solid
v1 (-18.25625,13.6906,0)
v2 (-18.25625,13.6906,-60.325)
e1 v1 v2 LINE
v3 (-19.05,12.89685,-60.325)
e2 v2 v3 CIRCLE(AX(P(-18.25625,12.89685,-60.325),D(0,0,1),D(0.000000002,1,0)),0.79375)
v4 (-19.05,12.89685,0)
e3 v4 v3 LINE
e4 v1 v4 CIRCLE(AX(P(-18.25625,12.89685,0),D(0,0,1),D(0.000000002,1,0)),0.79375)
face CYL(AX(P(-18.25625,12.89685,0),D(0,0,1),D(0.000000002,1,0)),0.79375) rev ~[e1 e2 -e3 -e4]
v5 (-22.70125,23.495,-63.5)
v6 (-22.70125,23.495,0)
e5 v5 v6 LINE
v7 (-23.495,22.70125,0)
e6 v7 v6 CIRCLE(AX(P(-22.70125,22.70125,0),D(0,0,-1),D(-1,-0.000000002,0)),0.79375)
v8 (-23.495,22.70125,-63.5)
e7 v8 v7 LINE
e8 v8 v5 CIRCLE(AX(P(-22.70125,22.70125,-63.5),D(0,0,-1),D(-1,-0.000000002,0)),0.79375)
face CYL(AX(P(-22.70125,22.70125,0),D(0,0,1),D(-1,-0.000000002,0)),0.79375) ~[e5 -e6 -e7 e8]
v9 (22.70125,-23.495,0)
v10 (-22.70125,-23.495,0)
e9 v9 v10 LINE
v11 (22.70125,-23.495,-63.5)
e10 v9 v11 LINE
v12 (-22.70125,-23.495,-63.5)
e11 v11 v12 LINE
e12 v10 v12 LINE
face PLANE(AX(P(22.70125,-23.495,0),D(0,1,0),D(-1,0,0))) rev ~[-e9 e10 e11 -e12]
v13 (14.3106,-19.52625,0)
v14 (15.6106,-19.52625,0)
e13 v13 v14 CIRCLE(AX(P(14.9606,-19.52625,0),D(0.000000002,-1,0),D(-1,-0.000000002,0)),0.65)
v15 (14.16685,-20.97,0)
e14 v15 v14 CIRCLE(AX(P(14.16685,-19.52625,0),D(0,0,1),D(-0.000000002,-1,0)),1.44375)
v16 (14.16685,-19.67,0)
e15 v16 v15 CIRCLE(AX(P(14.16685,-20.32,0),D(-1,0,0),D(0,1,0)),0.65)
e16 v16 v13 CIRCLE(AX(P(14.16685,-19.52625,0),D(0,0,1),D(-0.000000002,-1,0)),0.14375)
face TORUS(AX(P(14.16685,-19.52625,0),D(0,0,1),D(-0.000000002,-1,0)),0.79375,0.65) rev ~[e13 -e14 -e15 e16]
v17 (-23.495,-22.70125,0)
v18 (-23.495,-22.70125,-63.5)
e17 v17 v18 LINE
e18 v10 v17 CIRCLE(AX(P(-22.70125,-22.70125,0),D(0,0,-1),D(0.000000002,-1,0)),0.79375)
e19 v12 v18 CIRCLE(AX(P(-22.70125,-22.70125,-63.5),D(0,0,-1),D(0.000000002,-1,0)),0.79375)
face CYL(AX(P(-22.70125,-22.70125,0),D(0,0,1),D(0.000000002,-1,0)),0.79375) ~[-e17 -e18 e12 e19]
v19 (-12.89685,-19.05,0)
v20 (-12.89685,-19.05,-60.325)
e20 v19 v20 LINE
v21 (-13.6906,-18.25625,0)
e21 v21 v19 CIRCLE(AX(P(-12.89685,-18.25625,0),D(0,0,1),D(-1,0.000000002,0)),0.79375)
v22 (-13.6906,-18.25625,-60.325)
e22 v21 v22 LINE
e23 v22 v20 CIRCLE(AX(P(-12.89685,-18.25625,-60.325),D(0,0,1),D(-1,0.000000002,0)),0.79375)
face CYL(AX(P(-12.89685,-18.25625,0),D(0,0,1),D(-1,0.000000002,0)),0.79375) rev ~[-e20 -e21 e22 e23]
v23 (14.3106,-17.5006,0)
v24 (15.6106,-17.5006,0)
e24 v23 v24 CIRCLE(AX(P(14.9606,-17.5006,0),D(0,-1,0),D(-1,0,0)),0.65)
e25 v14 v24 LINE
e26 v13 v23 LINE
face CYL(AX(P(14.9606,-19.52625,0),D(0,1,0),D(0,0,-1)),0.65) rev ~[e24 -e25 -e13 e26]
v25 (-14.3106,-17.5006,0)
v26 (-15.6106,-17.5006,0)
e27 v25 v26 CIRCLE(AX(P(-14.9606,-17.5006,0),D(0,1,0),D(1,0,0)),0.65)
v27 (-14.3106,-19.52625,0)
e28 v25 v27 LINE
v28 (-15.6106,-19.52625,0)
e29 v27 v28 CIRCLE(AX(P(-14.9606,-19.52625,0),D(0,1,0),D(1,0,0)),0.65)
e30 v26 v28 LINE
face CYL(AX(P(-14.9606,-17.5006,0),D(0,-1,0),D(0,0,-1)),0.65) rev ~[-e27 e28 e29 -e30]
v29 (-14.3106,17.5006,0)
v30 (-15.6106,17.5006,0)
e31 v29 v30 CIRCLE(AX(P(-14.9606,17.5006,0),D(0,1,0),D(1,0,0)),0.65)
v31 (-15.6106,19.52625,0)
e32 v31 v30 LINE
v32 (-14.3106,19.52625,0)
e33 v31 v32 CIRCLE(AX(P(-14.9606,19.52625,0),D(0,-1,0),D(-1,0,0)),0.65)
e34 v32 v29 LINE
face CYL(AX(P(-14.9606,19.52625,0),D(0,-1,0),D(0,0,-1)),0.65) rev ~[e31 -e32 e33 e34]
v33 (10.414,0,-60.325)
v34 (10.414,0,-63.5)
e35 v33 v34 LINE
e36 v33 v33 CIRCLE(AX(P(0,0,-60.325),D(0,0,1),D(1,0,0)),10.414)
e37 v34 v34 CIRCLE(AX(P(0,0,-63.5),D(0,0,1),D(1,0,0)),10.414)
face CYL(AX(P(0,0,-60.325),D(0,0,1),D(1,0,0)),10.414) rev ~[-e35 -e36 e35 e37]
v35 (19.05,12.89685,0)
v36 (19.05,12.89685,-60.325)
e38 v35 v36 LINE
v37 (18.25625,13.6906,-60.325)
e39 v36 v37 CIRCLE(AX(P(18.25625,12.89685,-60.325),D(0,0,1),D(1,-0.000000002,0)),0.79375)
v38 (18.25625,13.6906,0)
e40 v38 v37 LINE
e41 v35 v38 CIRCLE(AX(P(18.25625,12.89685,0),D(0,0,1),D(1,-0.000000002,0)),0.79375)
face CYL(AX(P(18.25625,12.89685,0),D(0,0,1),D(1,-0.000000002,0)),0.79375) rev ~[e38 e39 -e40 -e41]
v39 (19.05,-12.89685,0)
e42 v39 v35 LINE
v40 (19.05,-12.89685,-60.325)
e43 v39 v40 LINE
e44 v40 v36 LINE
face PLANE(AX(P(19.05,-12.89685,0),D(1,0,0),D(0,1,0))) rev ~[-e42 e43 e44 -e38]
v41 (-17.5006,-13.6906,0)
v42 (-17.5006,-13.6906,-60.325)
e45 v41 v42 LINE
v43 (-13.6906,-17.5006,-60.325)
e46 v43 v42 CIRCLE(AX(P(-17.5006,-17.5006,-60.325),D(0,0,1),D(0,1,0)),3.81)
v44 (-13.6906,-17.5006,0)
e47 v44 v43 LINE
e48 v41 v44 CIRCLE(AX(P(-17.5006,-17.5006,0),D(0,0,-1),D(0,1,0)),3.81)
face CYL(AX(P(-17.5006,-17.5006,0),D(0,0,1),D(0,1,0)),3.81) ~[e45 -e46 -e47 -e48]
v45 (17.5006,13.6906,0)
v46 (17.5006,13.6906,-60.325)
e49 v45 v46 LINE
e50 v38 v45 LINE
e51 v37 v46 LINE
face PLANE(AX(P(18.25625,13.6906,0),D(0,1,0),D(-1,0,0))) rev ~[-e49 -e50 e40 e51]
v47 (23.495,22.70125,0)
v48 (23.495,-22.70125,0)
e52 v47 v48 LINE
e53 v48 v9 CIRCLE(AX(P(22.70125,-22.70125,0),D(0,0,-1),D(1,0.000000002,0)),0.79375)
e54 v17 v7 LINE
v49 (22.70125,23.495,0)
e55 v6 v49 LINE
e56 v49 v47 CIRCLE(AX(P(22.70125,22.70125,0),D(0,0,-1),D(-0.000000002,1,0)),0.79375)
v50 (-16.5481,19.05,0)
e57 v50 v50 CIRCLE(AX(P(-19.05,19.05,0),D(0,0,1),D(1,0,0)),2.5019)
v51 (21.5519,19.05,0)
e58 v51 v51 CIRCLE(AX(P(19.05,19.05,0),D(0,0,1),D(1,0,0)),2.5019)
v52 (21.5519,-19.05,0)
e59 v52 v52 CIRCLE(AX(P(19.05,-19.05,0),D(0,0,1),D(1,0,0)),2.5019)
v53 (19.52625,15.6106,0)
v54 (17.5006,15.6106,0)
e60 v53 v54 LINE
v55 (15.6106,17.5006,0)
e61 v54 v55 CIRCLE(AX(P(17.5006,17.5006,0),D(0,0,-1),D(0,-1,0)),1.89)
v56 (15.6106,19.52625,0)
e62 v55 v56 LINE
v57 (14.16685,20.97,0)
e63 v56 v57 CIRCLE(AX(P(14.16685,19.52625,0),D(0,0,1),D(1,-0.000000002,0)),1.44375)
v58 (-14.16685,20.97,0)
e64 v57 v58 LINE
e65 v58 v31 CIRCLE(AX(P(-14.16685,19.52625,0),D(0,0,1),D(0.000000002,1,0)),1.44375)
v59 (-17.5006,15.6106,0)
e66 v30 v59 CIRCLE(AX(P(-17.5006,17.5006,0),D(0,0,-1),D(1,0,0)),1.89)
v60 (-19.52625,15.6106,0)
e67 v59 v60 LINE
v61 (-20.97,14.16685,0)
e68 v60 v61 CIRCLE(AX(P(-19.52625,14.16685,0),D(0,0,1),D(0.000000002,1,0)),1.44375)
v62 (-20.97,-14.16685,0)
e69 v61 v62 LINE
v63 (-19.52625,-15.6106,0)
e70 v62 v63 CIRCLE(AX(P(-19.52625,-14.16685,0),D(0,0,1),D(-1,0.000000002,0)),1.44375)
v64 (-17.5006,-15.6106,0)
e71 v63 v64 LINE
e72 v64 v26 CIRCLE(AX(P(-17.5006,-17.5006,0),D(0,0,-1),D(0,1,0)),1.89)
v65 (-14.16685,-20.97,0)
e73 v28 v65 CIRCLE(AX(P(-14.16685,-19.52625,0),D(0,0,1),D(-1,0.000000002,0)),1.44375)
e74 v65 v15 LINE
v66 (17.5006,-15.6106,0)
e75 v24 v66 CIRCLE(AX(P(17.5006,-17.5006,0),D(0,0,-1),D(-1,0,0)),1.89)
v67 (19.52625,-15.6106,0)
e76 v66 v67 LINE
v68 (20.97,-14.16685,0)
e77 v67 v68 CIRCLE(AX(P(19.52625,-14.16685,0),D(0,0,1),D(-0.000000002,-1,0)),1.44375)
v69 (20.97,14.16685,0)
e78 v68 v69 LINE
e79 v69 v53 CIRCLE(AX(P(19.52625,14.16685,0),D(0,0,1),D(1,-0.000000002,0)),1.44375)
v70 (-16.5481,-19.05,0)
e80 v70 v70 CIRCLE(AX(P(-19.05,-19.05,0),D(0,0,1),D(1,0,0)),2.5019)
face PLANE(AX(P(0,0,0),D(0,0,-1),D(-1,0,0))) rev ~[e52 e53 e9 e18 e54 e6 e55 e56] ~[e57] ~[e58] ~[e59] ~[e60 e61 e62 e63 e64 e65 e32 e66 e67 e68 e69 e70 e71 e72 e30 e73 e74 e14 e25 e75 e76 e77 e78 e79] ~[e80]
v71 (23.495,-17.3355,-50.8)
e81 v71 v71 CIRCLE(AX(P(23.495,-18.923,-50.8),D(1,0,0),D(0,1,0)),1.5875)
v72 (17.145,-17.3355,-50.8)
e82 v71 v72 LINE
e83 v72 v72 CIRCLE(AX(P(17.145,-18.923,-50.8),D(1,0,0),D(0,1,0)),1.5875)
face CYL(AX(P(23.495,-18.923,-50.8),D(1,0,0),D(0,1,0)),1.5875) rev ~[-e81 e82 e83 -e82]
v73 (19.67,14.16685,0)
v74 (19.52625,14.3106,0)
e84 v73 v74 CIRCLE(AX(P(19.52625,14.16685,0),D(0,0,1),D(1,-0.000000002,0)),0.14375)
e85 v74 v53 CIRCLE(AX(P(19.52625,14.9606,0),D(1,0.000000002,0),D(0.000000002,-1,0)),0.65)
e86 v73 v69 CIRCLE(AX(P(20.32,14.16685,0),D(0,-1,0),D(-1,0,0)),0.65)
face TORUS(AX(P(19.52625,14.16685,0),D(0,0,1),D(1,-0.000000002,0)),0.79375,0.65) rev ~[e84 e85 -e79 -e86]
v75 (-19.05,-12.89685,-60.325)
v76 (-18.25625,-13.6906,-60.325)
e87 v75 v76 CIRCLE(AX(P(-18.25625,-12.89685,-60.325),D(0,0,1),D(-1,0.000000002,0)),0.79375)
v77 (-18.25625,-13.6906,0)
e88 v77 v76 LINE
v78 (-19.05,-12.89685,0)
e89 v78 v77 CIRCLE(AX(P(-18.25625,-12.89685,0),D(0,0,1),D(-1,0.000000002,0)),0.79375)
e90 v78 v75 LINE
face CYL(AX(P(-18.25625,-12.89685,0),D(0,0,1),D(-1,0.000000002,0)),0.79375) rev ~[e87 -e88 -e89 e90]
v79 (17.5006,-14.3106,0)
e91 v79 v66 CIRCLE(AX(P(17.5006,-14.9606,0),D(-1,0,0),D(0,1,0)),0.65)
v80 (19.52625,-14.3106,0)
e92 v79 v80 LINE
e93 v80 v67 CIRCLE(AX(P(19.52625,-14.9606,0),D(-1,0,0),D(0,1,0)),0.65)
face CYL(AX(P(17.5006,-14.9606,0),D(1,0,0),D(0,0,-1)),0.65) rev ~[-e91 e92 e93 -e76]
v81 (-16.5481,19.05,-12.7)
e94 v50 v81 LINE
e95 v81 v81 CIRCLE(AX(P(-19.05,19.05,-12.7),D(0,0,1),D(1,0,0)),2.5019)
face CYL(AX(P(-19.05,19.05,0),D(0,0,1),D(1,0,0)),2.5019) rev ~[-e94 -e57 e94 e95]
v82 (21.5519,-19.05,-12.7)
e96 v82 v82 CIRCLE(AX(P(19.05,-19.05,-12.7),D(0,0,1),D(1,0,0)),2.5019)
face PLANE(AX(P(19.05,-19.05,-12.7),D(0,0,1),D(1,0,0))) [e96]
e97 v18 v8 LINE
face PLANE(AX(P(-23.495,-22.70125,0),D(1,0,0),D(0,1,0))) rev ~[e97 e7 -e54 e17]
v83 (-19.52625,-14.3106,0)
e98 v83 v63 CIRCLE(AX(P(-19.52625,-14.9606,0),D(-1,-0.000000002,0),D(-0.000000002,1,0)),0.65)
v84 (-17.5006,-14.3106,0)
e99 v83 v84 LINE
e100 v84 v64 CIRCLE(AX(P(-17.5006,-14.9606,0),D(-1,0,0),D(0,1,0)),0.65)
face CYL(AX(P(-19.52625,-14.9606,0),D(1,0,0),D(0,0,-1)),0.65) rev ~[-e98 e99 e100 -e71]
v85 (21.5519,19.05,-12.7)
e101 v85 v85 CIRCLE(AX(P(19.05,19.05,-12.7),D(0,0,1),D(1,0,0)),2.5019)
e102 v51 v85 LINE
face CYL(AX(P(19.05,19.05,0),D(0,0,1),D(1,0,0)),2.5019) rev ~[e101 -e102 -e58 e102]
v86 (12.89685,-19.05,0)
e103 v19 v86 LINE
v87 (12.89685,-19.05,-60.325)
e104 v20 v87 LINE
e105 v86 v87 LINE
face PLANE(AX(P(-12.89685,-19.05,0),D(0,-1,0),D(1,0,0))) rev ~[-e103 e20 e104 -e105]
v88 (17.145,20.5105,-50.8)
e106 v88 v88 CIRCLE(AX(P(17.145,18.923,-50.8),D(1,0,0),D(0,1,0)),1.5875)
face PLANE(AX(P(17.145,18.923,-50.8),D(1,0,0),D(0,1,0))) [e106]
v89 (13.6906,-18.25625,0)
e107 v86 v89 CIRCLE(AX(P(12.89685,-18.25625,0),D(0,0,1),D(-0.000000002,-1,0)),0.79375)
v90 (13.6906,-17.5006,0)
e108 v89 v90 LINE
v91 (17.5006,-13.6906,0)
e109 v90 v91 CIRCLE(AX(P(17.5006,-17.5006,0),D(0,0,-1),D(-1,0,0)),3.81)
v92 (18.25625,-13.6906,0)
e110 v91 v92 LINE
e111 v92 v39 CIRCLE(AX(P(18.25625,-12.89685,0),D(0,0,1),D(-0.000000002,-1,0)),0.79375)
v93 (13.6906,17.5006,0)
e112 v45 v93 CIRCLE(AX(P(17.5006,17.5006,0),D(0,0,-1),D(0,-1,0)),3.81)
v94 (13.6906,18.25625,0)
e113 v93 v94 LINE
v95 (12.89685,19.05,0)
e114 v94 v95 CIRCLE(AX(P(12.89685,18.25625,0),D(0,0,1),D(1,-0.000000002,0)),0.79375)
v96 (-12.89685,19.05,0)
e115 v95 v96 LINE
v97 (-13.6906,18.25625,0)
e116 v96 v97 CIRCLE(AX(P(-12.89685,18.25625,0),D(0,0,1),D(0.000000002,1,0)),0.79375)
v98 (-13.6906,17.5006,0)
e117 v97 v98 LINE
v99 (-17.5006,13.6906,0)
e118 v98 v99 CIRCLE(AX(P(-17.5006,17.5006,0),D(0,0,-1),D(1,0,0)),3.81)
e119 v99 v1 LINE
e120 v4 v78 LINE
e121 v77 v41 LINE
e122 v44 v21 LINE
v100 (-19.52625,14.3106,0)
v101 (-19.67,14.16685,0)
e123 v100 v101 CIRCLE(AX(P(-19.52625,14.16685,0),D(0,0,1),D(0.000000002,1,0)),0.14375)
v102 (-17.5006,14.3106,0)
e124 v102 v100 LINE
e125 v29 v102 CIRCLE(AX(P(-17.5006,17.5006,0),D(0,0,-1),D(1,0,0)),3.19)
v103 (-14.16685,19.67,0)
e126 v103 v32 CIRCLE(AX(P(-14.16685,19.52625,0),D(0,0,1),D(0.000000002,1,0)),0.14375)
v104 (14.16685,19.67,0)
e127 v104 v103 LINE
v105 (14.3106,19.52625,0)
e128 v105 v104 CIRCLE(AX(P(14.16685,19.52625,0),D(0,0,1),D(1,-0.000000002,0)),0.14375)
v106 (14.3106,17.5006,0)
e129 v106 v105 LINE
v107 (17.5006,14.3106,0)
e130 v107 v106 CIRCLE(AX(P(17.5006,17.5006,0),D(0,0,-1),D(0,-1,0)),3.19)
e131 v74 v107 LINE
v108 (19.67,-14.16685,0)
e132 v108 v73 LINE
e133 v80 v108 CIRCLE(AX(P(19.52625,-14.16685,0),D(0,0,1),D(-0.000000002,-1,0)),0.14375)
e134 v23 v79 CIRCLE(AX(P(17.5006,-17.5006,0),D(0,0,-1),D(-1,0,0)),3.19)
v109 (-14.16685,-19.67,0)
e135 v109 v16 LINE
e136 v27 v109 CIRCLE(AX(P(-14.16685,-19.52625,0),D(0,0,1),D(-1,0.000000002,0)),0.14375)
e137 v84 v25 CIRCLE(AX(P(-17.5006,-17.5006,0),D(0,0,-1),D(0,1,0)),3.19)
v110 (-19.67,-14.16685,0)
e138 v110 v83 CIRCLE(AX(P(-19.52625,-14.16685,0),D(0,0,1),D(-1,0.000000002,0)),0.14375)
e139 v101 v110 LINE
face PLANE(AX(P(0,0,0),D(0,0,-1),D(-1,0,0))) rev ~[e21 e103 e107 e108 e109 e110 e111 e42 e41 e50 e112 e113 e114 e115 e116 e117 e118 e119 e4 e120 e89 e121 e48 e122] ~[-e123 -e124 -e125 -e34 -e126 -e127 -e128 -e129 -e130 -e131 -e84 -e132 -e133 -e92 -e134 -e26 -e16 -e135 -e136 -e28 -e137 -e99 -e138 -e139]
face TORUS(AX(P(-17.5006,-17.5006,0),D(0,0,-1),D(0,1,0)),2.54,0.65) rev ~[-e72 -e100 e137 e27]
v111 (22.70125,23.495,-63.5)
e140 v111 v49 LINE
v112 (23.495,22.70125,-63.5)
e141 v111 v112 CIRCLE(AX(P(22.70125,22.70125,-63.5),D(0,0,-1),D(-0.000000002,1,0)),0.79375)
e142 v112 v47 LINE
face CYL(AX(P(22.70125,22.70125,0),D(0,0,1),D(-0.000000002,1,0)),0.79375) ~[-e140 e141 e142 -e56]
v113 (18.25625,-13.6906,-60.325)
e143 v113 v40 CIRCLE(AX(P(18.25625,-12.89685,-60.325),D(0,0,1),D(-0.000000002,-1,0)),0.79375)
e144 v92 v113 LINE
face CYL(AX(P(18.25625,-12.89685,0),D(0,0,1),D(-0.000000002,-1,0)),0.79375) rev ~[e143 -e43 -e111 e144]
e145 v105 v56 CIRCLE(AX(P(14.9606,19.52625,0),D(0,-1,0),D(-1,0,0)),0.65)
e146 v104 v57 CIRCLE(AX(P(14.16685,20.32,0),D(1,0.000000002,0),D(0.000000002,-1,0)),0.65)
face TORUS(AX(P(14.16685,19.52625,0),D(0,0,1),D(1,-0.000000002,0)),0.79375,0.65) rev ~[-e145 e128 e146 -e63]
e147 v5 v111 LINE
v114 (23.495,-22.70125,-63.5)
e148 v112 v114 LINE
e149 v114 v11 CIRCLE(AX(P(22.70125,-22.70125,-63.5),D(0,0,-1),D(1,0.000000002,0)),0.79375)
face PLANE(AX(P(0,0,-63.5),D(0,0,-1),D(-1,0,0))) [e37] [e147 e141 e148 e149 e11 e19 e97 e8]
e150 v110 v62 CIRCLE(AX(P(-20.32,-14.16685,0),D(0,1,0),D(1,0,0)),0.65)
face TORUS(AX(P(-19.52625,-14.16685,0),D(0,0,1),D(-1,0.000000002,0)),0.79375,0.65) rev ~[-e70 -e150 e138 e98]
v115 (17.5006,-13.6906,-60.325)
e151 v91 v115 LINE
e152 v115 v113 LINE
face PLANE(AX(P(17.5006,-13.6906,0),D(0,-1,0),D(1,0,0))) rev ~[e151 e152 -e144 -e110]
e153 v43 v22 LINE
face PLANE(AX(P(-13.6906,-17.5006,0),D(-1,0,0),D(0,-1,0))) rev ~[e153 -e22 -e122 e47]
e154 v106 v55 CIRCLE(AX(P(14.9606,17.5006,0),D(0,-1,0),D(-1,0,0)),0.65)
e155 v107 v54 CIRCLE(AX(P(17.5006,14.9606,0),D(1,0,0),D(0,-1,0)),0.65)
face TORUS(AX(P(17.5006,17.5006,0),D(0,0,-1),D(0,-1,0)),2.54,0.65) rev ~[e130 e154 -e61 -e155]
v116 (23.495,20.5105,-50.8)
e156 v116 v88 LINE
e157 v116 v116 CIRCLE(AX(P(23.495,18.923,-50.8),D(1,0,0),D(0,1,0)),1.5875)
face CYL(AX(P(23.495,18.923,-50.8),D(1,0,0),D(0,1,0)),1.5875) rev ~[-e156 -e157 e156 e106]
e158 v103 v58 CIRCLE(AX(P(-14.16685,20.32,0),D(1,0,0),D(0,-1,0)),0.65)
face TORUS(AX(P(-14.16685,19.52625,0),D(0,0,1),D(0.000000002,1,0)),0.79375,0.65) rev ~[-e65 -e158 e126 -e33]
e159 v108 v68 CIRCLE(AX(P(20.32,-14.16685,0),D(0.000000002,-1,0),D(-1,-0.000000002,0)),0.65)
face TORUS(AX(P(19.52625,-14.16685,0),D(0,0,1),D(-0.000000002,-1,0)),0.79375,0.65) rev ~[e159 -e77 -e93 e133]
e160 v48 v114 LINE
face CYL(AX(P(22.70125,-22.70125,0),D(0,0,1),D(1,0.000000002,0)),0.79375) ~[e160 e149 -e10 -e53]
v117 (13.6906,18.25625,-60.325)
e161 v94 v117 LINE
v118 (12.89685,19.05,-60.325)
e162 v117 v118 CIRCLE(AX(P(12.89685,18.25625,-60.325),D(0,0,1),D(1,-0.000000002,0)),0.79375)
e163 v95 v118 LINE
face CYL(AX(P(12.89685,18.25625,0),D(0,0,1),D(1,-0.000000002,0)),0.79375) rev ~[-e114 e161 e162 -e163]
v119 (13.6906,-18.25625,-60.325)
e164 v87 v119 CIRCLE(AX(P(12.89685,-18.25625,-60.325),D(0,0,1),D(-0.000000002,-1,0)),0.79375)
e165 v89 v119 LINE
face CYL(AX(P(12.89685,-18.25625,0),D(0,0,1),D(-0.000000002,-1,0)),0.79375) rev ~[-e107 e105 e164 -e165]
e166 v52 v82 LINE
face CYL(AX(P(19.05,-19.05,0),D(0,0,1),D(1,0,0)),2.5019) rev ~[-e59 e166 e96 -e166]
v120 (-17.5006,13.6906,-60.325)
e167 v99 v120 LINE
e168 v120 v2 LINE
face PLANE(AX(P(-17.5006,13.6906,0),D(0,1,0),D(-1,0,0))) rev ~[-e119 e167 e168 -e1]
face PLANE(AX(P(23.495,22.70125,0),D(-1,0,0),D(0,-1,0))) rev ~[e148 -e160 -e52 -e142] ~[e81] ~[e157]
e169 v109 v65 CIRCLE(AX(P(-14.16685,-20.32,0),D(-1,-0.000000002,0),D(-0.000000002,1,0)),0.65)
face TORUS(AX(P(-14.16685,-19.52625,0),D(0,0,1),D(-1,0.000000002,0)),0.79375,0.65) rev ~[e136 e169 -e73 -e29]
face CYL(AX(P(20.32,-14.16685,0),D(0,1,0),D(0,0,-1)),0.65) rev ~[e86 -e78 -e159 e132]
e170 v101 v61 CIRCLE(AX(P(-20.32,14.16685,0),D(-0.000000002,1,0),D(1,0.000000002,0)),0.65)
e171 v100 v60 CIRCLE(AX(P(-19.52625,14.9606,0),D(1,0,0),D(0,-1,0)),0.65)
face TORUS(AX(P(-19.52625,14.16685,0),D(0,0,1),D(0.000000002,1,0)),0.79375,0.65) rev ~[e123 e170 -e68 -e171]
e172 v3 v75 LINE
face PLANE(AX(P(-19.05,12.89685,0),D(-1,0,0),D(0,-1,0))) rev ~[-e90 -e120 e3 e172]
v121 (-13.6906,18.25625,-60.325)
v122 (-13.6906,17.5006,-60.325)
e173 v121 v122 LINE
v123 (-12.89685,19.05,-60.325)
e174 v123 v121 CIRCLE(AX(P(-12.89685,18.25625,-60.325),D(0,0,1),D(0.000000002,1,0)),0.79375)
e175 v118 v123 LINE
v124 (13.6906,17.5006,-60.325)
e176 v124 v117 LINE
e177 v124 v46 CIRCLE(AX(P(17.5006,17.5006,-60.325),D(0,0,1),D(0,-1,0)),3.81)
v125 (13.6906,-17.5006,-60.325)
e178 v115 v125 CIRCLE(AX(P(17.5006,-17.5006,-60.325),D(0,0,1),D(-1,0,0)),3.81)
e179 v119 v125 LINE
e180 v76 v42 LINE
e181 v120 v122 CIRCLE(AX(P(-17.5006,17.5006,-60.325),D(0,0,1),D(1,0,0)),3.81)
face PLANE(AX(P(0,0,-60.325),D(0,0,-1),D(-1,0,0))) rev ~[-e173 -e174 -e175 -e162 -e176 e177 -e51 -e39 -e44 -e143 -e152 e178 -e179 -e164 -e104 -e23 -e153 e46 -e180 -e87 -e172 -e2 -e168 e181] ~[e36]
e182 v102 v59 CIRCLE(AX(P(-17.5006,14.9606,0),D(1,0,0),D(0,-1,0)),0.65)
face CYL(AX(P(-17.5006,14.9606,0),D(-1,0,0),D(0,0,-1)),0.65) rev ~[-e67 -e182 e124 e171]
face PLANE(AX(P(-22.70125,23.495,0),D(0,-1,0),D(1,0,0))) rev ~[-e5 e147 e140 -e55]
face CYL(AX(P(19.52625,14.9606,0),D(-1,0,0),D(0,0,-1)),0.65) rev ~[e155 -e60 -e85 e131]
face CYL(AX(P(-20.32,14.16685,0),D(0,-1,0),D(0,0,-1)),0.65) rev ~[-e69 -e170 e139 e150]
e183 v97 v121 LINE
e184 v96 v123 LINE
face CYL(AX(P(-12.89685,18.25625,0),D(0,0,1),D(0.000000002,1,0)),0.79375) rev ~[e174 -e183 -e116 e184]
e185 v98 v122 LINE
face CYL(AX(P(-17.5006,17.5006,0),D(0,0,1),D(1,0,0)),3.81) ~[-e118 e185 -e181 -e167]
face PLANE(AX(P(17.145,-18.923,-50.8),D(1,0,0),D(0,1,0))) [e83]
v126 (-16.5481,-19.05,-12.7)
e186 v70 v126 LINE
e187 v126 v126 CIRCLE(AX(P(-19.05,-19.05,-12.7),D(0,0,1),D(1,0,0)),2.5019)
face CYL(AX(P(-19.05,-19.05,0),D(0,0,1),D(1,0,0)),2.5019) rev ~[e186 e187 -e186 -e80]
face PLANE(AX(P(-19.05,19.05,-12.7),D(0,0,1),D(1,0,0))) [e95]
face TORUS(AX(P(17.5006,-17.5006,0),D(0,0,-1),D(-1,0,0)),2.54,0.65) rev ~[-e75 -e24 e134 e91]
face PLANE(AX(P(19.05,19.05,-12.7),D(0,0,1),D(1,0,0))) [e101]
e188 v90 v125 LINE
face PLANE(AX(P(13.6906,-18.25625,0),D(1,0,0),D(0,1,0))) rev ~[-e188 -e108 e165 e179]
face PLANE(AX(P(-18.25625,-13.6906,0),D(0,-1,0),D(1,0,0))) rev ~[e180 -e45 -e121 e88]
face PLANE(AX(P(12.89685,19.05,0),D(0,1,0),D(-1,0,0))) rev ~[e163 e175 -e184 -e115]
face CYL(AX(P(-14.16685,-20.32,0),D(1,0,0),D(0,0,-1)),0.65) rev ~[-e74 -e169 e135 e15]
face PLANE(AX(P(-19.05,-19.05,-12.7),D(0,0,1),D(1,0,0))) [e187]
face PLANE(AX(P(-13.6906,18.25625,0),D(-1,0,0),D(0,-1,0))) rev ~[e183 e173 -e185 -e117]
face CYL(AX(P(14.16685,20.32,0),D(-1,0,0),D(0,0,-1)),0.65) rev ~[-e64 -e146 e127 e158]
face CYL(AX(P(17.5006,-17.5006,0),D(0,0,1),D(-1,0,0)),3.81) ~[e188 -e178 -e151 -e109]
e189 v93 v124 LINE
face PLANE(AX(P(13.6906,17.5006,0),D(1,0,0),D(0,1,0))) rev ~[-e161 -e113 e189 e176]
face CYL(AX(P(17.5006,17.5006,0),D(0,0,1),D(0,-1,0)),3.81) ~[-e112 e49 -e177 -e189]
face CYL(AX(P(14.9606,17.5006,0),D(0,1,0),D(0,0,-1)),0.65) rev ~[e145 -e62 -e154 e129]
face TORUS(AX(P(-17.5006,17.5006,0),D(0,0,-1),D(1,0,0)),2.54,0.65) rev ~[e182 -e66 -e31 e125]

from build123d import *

# Parameters (mm, degrees)
BOSS_EXTRUDE1_DEPTH = 63.5
SKETCH7_R           = 0.65
SKETCH10_R          = 2.5019
CUT_EXTRUDE3_DEPTH  = 12.7
BOSS_EXTRUDE2_START = -60.325
SKETCH12_R          = 10.414
BOSS_EXTRUDE2_DEPTH = 3.175
SKETCH14_R          = 1.5875
CUT_EXTRUDE4_DEPTH  = 6.35


with BuildPart() as part:
    # Sketch1 → Boss-Extrude1 (new body)
    with BuildSketch(Plane.XY):
        with BuildLine():
            Line((23.495, 22.70125), (23.495, -22.70125))
            ThreePointArc((23.495, -22.70125), (23.262516008, -23.262516008), (22.70125, -23.495))
            Line((22.70125, -23.495), (-22.70125, -23.495))
            ThreePointArc((-22.70125, -23.495), (-23.262516008, -23.262516008), (-23.495, -22.70125))
            Line((-23.495, -22.70125), (-23.495, 22.70125))
            ThreePointArc((-23.495, 22.70125), (-23.262516008, 23.262516008), (-22.70125, 23.495))
            Line((-22.70125, 23.495), (22.70125, 23.495))
            ThreePointArc((22.70125, 23.495), (23.262516008, 23.262516008), (23.495, 22.70125))
        make_face()
        with BuildLine():
            Line((-12.89685, -19.05), (12.89685, -19.05))
            ThreePointArc((12.89685, -19.05), (13.458116008, -18.817516008), (13.6906, -18.25625))
            Line((13.6906, -18.25625), (13.6906, -17.5006))
            ThreePointArc((13.6906, -17.5006), (14.806523164, -14.806523164), (17.5006, -13.6906))
            Line((17.5006, -13.6906), (18.25625, -13.6906))
            ThreePointArc((18.25625, -13.6906), (18.817516008, -13.458116008), (19.05, -12.89685))
            Line((19.05, -12.89685), (19.05, 12.89685))
            ThreePointArc((19.05, 12.89685), (18.817516008, 13.458116008), (18.25625, 13.6906))
            Line((18.25625, 13.6906), (17.5006, 13.6906))
            ThreePointArc((17.5006, 13.6906), (14.806523164, 14.806523164), (13.6906, 17.5006))
            Line((13.6906, 17.5006), (13.6906, 18.25625))
            ThreePointArc((13.6906, 18.25625), (13.458116008, 18.817516008), (12.89685, 19.05))
            Line((12.89685, 19.05), (-12.89685, 19.05))
            ThreePointArc((-12.89685, 19.05), (-13.458116008, 18.817516008), (-13.6906, 18.25625))
            Line((-13.6906, 18.25625), (-13.6906, 17.5006))
            ThreePointArc((-13.6906, 17.5006), (-14.806523164, 14.806523164), (-17.5006, 13.6906))
            Line((-17.5006, 13.6906), (-18.25625, 13.6906))
            ThreePointArc((-18.25625, 13.6906), (-18.817516008, 13.458116008), (-19.05, 12.89685))
            Line((-19.05, 12.89685), (-19.05, -12.89685))
            ThreePointArc((-19.05, -12.89685), (-18.817516008, -13.458116008), (-18.25625, -13.6906))
            Line((-18.25625, -13.6906), (-17.5006, -13.6906))
            ThreePointArc((-17.5006, -13.6906), (-14.806523164, -14.806523164), (-13.6906, -17.5006))
            Line((-13.6906, -17.5006), (-13.6906, -18.25625))
            ThreePointArc((-13.6906, -18.25625), (-13.458116008, -18.817516008), (-12.89685, -19.05))
        make_face(mode=Mode.SUBTRACT)
    extrude(amount=-BOSS_EXTRUDE1_DEPTH)

    # Cut-Sweep2: sweep along a path in Sketch11
    with BuildLine(Plane.XY) as cut_sweep2_path:
        Line((-14.9606, 19.52625), (-14.9606, 17.5006))
        ThreePointArc((-14.9606, 17.5006), (-15.704548776, 15.704548776), (-17.5006, 14.9606))
        Line((-17.5006, 14.9606), (-19.52625, 14.9606))
        ThreePointArc((-19.52625, 14.9606), (-20.087516008, 14.728116008), (-20.32, 14.16685))
        Line((-20.32, 14.16685), (-20.32, 12.89685))
        Line((-20.32, 12.89685), (-20.32, -12.89685))
        Line((-20.32, -12.89685), (-20.32, -14.16685))
        ThreePointArc((-20.32, -14.16685), (-20.087516008, -14.728116008), (-19.52625, -14.9606))
        Line((-19.52625, -14.9606), (-17.5006, -14.9606))
        ThreePointArc((-17.5006, -14.9606), (-15.704548776, -15.704548776), (-14.9606, -17.5006))
        Line((-14.9606, -17.5006), (-14.9606, -19.52625))
        ThreePointArc((-14.9606, -19.52625), (-14.728116008, -20.087516008), (-14.16685, -20.32))
        Line((-14.16685, -20.32), (-12.89685, -20.32))
        Line((-12.89685, -20.32), (12.89685, -20.32))
        Line((12.89685, -20.32), (14.16685, -20.32))
        ThreePointArc((14.16685, -20.32), (14.728116008, -20.087516008), (14.9606, -19.52625))
        Line((14.9606, -19.52625), (14.9606, -17.5006))
        ThreePointArc((14.9606, -17.5006), (15.704548776, -15.704548776), (17.5006, -14.9606))
        Line((17.5006, -14.9606), (19.52625, -14.9606))
        ThreePointArc((19.52625, -14.9606), (20.087516008, -14.728116008), (20.32, -14.16685))
        Line((20.32, -14.16685), (20.32, -12.89685))
        Line((20.32, -12.89685), (20.32, 12.89685))
        Line((20.32, 12.89685), (20.32, 14.16685))
        ThreePointArc((20.32, 14.16685), (20.087516008, 14.728116008), (19.52625, 14.9606))
        Line((19.52625, 14.9606), (17.5006, 14.9606))
        ThreePointArc((17.5006, 14.9606), (15.704548776, 15.704548776), (14.9606, 17.5006))
        Line((14.9606, 17.5006), (14.9606, 19.52625))
        ThreePointArc((14.9606, 19.52625), (14.728116008, 20.087516008), (14.16685, 20.32))
        Line((14.16685, 20.32), (12.89685, 20.32))
        Line((12.89685, 20.32), (-12.89685, 20.32))
        Line((-12.89685, 20.32), (-14.16685, 20.32))
        ThreePointArc((-14.16685, 20.32), (-14.728116008, 20.087516008), (-14.9606, 19.52625))
    # Sketch7 → Cut-Sweep2 (sweep, cut)
    with BuildSketch(Plane(origin=(0, 0, 0), x_dir=(0, 0, -1), z_dir=(1, 0, 0))):
        with Locations((0, 20.32)):
            Circle(SKETCH7_R)
    sweep(path=cut_sweep2_path.line, mode=Mode.SUBTRACT)

    # Sketch10 → Cut-Extrude3 (cut)
    with BuildSketch(Plane.XY):
        with Locations((19.05, 19.05)):
            Circle(SKETCH10_R)
        with Locations((19.05, -19.05)):
            Circle(SKETCH10_R)
        with Locations((-19.05, -19.05)):
            Circle(SKETCH10_R)
        with Locations((-19.05, 19.05)):
            Circle(SKETCH10_R)
    extrude(amount=-CUT_EXTRUDE3_DEPTH, mode=Mode.SUBTRACT)

    # Sketch12 → Boss-Extrude2 (add)
    with BuildSketch(Plane.XY.offset(BOSS_EXTRUDE2_START)):
        with BuildLine():
            Line((23.495, 22.70125), (23.495, -22.70125))
            ThreePointArc((23.495, -22.70125), (23.262516008, -23.262516008), (22.70125, -23.495))
            Line((22.70125, -23.495), (-22.70125, -23.495))
            ThreePointArc((-22.70125, -23.495), (-23.262516008, -23.262516008), (-23.495, -22.70125))
            Line((-23.495, -22.70125), (-23.495, 22.70125))
            ThreePointArc((-23.495, 22.70125), (-23.262516008, 23.262516008), (-22.70125, 23.495))
            Line((-22.70125, 23.495), (22.70125, 23.495))
            ThreePointArc((22.70125, 23.495), (23.262516008, 23.262516008), (23.495, 22.70125))
        make_face()
        Circle(SKETCH12_R, mode=Mode.SUBTRACT)
    extrude(amount=-BOSS_EXTRUDE2_DEPTH)

    # Sketch14 → Cut-Extrude4 (cut)
    with BuildSketch(Plane(origin=(23.495, 0, 0), x_dir=(0, 0, -1), z_dir=(1, 0, 0))):
        with Locations(Location((50.8, 18.923, 0), (0, 0, 90))):
            Circle(SKETCH14_R)
        with Locations(Location((50.8, -18.923, 0), (0, 0, 90))):
            Circle(SKETCH14_R)
    extrude(amount=-CUT_EXTRUDE4_DEPTH, mode=Mode.SUBTRACT)


solid = part.part
